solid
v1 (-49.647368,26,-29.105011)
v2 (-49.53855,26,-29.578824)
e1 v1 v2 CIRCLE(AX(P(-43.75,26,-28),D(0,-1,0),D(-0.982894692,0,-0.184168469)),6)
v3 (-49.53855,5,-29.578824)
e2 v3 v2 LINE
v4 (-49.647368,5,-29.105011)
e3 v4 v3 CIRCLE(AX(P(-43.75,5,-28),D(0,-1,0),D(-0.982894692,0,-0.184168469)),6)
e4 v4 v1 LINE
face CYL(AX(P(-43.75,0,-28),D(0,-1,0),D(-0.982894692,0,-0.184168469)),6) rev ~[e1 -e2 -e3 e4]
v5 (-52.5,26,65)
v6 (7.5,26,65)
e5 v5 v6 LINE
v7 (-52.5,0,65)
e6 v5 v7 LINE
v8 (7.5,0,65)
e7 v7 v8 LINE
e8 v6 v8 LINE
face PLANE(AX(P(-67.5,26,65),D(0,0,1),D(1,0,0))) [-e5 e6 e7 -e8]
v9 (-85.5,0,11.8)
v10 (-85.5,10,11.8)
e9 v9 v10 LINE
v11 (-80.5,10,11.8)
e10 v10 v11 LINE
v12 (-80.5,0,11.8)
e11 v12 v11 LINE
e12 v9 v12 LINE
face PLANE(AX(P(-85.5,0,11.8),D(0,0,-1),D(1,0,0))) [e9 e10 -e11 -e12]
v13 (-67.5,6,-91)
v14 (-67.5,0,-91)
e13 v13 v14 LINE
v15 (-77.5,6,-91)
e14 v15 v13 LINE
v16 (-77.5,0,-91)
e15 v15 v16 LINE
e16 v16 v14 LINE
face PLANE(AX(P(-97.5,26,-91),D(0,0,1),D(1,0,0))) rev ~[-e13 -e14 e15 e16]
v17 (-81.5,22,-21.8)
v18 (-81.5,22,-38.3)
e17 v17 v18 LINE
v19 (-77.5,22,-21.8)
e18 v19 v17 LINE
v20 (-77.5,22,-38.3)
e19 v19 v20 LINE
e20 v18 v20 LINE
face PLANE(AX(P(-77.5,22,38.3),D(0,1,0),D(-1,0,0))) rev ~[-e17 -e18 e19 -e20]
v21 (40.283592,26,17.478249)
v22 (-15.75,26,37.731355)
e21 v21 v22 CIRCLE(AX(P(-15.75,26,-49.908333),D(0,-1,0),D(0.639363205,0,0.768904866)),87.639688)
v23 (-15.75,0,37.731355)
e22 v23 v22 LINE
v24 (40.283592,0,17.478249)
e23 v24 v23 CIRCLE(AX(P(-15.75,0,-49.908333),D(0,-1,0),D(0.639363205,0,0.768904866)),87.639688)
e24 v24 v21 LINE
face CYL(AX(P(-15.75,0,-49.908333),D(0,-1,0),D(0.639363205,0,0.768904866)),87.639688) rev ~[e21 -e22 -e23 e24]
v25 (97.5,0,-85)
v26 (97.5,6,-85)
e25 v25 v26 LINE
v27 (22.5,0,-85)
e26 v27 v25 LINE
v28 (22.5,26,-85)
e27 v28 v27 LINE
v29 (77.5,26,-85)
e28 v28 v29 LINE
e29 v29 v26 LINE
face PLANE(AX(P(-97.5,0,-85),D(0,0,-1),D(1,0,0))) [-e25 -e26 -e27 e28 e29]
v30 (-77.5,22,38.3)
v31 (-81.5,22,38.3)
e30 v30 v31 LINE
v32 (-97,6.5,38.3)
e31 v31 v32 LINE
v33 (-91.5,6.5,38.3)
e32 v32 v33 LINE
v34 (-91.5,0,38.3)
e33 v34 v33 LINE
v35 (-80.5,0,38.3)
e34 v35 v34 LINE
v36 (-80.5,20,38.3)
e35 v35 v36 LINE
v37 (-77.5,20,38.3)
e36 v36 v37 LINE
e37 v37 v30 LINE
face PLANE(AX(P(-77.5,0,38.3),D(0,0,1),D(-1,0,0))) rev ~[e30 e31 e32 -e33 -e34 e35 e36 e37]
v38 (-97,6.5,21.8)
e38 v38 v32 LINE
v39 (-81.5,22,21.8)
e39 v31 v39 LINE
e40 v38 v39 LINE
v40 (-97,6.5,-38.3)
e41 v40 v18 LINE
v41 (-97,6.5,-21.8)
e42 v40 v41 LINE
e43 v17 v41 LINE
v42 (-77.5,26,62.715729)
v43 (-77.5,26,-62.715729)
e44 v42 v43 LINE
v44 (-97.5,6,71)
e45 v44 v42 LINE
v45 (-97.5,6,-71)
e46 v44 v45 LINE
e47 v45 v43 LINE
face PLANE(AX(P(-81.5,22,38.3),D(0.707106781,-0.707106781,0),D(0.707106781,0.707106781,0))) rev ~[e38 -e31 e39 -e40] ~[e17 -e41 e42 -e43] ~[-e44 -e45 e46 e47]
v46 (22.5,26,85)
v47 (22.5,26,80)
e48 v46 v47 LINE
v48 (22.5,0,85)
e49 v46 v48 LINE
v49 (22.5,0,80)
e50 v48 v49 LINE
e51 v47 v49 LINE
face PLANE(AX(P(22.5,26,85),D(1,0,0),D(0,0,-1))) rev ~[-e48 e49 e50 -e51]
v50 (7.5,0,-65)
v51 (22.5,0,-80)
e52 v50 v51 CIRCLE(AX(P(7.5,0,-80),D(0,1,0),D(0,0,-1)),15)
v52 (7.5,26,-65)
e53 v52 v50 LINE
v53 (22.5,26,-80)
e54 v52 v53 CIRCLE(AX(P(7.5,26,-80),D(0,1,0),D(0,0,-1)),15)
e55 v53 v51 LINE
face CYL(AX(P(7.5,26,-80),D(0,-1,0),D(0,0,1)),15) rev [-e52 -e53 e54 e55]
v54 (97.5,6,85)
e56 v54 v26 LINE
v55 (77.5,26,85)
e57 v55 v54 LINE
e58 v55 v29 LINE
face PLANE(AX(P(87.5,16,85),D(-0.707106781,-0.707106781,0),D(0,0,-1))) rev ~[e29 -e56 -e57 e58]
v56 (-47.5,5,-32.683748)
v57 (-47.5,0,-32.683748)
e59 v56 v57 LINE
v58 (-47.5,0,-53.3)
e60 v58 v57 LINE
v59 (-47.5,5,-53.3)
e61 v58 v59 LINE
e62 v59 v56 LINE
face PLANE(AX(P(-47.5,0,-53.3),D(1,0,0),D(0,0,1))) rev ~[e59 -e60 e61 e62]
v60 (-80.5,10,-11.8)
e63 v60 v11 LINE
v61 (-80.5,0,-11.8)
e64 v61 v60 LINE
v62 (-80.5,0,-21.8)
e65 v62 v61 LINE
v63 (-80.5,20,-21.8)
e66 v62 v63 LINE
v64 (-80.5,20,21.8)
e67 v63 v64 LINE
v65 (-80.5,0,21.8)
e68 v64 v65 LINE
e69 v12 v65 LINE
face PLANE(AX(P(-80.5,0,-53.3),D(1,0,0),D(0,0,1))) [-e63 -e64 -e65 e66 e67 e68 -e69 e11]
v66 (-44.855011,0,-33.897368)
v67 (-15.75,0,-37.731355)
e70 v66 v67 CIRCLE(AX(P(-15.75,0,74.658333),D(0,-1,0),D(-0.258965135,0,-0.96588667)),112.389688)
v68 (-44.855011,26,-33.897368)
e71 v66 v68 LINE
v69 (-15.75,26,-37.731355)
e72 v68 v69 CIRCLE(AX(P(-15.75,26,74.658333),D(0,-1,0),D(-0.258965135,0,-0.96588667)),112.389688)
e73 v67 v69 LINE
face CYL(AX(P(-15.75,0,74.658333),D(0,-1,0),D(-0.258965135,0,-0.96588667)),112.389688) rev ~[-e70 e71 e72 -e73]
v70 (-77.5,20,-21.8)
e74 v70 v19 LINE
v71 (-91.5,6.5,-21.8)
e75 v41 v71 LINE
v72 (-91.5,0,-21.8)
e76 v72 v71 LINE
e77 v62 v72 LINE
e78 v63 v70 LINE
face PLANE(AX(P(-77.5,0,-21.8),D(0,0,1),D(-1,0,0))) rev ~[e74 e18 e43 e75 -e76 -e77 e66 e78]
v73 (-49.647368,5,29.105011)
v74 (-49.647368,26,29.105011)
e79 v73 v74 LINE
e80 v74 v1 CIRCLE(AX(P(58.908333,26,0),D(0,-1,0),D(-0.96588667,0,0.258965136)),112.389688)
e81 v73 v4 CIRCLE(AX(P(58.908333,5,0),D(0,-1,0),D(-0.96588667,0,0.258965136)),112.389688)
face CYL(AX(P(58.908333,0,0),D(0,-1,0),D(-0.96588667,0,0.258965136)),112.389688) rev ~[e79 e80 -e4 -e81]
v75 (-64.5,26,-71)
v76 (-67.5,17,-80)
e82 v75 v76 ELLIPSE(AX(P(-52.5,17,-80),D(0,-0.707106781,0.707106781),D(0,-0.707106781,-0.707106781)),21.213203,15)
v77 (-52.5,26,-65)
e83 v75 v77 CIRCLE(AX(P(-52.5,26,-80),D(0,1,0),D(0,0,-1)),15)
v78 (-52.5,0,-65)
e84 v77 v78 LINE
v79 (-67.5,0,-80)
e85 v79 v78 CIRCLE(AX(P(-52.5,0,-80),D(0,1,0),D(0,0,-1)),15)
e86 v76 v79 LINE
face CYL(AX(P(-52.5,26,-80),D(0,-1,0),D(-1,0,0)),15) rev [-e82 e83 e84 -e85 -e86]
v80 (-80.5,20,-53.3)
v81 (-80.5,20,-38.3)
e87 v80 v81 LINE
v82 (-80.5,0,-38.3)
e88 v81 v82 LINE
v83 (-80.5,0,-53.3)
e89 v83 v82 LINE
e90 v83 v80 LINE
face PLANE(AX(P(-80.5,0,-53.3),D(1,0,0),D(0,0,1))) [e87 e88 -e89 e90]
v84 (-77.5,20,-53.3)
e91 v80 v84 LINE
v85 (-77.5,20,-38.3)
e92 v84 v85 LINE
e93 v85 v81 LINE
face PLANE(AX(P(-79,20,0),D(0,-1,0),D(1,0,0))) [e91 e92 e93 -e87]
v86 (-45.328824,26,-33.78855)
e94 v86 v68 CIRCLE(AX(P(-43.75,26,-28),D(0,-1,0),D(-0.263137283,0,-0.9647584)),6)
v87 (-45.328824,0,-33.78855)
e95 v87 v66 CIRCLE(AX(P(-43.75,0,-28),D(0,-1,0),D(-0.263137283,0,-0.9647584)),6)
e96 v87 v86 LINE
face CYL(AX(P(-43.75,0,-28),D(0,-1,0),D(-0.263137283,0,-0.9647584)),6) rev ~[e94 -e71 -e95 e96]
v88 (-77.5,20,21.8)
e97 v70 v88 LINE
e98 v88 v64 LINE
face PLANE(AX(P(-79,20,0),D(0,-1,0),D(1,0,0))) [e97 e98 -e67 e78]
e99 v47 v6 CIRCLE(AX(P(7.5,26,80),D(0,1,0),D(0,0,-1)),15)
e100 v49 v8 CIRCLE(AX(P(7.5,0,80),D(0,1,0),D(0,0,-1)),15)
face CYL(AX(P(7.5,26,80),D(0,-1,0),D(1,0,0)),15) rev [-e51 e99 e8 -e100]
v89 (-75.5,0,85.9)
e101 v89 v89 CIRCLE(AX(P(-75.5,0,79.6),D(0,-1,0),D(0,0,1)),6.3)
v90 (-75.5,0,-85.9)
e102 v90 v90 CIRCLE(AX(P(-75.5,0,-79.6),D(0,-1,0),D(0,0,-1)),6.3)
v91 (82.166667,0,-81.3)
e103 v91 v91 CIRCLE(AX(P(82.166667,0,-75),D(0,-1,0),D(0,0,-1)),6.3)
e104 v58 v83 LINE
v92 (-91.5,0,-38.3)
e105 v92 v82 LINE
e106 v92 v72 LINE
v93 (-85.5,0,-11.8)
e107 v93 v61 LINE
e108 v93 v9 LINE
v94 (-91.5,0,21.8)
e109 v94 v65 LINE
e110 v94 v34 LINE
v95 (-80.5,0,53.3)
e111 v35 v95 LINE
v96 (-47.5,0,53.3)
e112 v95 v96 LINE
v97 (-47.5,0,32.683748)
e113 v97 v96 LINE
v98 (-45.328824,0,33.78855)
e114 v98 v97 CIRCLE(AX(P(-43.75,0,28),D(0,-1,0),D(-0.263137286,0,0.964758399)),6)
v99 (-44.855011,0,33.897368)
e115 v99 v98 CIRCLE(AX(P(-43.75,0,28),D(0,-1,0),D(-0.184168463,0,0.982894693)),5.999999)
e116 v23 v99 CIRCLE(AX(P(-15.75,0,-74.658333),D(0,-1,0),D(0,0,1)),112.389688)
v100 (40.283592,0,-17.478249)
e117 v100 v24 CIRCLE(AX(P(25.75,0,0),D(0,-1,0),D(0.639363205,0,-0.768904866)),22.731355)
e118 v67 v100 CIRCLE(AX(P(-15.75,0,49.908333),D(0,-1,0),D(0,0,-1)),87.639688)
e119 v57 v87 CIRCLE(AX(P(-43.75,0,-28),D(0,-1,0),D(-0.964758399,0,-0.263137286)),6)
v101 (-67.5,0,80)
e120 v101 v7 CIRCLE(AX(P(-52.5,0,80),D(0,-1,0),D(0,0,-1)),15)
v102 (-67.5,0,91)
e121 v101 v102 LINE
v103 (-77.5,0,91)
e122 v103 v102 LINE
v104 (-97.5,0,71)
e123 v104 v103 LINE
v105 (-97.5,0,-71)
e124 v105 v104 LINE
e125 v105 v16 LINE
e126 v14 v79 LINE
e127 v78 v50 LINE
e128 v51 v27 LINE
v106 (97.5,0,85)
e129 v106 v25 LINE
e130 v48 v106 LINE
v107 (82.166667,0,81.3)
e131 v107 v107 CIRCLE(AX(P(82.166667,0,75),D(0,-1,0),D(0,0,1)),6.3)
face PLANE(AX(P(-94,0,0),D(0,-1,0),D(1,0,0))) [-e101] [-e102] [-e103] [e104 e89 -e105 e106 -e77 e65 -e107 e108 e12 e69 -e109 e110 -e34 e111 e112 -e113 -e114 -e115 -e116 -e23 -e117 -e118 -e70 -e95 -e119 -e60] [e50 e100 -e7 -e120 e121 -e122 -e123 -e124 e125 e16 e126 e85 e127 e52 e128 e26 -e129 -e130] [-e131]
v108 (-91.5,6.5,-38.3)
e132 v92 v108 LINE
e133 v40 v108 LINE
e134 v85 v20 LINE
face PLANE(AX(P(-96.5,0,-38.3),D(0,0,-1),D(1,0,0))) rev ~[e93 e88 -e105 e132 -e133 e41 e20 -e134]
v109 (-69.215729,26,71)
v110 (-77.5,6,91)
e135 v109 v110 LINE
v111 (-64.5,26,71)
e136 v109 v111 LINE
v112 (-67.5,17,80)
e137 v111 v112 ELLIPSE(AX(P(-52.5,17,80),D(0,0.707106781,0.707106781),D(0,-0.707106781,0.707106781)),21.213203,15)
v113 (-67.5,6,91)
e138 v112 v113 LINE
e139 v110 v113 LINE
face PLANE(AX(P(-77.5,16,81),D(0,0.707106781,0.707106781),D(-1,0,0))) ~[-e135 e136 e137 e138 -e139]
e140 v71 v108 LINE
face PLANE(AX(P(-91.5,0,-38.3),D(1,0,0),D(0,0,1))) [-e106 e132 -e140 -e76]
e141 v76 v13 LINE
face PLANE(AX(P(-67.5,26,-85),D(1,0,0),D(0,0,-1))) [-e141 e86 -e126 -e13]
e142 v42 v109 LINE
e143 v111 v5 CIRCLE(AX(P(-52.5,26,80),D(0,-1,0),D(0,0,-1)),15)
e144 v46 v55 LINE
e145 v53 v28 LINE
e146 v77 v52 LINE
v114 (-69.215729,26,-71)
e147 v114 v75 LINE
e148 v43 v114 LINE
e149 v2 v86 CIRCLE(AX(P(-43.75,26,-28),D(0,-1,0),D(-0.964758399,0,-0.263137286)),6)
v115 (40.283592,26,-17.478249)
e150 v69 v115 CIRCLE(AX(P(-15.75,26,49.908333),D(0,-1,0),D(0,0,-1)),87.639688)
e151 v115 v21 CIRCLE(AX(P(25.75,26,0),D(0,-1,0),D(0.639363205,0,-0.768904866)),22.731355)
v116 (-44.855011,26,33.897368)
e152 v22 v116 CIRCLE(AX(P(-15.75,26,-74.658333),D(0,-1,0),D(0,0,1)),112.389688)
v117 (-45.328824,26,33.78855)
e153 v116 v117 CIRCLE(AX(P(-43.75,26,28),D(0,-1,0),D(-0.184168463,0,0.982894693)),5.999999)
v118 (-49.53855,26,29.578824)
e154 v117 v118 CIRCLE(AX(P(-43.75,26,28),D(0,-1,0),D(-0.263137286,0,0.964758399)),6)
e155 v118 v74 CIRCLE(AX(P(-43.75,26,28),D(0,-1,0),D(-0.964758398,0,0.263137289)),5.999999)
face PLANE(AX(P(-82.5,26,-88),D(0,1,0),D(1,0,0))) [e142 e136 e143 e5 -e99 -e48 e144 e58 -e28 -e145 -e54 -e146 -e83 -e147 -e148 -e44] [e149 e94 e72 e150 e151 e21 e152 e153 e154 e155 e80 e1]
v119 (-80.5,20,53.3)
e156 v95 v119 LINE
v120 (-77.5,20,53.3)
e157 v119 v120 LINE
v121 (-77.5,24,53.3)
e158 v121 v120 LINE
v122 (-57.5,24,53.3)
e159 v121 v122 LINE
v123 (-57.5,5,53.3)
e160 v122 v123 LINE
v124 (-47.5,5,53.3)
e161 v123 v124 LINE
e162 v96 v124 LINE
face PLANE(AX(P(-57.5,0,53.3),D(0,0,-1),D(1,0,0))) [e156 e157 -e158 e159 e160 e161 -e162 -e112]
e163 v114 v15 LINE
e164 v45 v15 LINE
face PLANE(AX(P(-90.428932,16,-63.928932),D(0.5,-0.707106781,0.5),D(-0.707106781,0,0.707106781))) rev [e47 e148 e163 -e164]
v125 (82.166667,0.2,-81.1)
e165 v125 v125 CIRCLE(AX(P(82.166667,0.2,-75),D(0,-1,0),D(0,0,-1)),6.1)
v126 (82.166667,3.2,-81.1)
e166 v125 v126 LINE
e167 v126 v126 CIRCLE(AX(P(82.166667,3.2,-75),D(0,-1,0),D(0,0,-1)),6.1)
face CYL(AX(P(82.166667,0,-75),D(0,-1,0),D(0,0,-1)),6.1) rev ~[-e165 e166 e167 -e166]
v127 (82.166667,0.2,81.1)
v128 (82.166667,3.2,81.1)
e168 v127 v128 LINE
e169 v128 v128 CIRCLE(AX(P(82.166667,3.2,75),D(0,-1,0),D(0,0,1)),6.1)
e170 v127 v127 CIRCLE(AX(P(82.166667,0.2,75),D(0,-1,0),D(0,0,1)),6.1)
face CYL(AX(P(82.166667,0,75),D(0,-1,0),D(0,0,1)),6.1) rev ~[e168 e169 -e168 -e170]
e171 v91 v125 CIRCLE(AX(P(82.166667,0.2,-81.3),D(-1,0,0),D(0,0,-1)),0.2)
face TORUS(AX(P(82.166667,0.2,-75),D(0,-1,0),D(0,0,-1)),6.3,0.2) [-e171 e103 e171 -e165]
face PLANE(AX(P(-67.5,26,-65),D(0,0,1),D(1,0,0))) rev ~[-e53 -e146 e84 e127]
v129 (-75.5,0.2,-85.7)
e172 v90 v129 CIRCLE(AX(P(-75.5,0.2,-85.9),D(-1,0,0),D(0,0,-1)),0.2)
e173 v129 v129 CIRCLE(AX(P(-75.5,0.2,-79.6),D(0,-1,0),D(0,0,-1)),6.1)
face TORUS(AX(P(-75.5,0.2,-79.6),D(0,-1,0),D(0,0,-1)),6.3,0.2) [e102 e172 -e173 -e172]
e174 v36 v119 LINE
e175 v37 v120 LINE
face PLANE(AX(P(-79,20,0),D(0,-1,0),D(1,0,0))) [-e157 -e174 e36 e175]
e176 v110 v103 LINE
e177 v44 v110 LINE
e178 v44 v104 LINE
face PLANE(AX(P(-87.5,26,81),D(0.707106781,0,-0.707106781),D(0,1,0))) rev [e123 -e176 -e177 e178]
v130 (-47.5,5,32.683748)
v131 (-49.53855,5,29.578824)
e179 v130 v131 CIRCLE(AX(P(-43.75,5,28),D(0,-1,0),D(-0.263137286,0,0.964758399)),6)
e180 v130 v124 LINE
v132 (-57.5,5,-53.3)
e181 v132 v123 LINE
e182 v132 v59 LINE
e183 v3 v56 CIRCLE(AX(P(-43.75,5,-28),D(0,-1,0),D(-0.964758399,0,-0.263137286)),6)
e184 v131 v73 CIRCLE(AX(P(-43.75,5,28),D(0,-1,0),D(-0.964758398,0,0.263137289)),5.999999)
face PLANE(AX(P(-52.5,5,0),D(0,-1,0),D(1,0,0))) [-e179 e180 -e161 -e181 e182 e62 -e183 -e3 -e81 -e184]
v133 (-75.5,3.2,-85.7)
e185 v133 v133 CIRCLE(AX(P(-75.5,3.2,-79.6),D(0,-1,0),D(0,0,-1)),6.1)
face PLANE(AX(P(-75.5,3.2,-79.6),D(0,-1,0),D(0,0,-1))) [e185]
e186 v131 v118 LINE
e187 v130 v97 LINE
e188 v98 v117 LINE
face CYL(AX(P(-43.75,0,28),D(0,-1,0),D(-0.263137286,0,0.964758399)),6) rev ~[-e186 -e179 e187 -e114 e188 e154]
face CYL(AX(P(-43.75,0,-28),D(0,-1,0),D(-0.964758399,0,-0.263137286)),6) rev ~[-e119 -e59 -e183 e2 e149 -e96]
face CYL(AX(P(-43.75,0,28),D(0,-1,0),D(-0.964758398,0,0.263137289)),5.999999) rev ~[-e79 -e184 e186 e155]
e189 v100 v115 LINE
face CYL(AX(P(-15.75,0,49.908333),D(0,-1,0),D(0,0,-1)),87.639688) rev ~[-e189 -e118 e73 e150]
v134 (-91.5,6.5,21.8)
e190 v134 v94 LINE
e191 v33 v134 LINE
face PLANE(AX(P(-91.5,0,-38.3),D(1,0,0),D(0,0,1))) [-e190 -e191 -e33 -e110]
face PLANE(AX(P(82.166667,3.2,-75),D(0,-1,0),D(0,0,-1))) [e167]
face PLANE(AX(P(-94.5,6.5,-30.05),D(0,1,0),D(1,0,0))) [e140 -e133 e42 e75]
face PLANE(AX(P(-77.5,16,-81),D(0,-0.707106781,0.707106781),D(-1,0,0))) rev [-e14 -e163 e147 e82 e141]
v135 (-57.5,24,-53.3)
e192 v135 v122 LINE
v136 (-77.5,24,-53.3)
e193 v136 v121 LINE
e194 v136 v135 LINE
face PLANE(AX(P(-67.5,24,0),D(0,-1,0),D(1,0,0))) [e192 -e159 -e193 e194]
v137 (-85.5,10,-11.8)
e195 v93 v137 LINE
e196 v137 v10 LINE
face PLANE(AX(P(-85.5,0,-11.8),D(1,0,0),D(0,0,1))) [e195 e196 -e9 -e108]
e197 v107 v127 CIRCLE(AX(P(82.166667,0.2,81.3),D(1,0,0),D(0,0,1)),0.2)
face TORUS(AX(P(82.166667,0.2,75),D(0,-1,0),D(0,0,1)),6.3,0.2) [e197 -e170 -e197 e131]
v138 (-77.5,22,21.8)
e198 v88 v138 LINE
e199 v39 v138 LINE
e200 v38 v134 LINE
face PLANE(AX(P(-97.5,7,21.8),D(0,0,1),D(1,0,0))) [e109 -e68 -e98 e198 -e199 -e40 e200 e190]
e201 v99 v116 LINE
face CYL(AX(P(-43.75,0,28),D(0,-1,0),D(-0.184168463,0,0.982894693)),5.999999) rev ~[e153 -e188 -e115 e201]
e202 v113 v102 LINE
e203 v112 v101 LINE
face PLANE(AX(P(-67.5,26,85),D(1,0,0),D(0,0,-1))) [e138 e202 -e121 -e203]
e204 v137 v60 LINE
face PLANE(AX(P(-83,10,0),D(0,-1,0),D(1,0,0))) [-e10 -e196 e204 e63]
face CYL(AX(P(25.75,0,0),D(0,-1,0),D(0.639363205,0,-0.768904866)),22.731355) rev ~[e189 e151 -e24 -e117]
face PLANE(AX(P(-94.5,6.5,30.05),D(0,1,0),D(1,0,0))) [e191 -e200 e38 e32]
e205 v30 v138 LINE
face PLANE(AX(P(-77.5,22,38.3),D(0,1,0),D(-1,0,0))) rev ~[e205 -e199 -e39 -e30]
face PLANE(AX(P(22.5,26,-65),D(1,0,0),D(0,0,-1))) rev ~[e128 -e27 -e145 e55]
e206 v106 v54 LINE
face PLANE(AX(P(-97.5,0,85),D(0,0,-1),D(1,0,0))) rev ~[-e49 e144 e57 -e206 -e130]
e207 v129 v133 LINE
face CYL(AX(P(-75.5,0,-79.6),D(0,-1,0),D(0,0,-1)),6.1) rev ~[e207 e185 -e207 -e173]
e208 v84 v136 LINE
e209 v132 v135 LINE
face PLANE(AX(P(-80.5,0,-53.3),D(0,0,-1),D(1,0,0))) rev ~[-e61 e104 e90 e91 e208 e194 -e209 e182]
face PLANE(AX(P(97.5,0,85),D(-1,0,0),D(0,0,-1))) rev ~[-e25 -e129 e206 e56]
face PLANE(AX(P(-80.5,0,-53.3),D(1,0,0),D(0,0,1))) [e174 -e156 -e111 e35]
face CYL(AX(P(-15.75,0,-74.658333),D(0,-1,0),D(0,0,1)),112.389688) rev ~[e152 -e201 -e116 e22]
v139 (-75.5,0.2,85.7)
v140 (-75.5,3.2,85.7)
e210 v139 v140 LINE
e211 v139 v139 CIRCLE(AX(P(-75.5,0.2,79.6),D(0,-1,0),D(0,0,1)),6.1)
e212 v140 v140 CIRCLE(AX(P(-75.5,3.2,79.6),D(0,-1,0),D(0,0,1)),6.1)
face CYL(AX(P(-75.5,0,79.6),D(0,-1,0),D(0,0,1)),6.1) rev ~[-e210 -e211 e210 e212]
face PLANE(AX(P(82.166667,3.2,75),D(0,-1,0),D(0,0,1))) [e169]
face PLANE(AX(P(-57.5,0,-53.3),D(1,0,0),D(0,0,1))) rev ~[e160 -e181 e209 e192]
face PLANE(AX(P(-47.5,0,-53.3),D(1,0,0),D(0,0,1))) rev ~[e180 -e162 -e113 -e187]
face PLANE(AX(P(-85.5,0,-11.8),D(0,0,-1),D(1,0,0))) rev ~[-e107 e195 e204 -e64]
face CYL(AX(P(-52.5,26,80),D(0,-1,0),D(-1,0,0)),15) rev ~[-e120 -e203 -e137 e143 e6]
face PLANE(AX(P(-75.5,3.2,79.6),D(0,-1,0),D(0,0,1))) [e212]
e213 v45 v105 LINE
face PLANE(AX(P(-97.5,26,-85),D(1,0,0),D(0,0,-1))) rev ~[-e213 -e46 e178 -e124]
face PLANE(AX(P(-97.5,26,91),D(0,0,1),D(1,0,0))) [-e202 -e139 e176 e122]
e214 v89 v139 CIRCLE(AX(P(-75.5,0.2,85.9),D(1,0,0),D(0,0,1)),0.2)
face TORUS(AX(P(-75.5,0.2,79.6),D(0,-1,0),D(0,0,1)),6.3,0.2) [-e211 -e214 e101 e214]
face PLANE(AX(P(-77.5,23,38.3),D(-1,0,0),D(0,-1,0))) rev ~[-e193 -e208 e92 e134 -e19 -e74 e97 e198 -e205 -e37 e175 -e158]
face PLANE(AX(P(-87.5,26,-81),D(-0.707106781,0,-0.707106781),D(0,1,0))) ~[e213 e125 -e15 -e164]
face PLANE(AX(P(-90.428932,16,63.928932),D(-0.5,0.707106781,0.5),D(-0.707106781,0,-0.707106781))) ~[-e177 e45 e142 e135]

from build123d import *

# Parameters (mm, degrees)
SKETCH1_W           = 195
SKETCH1_H           = 170
BOSS_EXTRUDE1_DEPTH = 26
SKETCH2_W           = 90
SKETCH2_H           = 20
CUT_EXTRUDE1_DEPTH  = 132.936537775
FILLET1_R           = 15
SKETCH3_W           = 30
SKETCH3_H           = 6
BOSS_EXTRUDE2_DEPTH = 26
CHAMFER1_SIZE       = 20
CHAMFER2_SIZE       = 20
CHAMFER3_SIZE       = 20
SKETCH6_R           = 6.1
CUT_EXTRUDE4_DEPTH  = 3.2
FILLET2_R           = 0.2
CUT_EXTRUDE3_DEPTH  = 23
CUT_EXTRUDE5_DEPTH  = 136.879542242
SKETCH8_W           = 5
SKETCH8_H           = 76.6
BOSS_EXTRUDE3_DEPTH = 7
SKETCH9_W           = 10
SKETCH9_H           = 106.6
CUT_EXTRUDE6_DEPTH  = 5
SKETCH10_W          = 3
SKETCH10_H          = 106.6
CUT_EXTRUDE7_DEPTH  = 20
BOSS_EXTRUDE8_REACH = 166.014
SKETCH14_W          = 6
SKETCH14_H          = 16.5
CUT_EXTRUDE9_DEPTH  = 0.5
SKETCH15_W          = 5
SKETCH15_H          = 23.6
CUT_EXTRUDE10_DEPTH = 10
SKETCH16_W          = 20
SKETCH16_H          = 106.6
CUT_EXTRUDE11_DEPTH = 1


with BuildPart() as part:
    # Sketch1 → Boss-Extrude1 (new body)
    with BuildSketch(Plane(origin=(0, 0, 0), x_dir=(1, 0, 0), z_dir=(0, 1, 0))):
        Rectangle(SKETCH1_W, SKETCH1_H)
    extrude(amount=BOSS_EXTRUDE1_DEPTH)

    # Sketch2 → Cut-Extrude1 (cut, through all)
    with BuildSketch(Plane(origin=(0, 26, 0), x_dir=(1, 0, 0), z_dir=(0, 1, 0))):
        with Locations((-22.5, -75)):
            Rectangle(SKETCH2_W, SKETCH2_H)
        with Locations((-22.5, 75)):
            Rectangle(SKETCH2_W, SKETCH2_H)
    extrude(amount=-CUT_EXTRUDE1_DEPTH, mode=Mode.SUBTRACT)

    # Fillet1
    fillet1_edges = [part.edges().sort_by_distance(p)[0] for p in [
        (-67.5, 13, 65),
        (22.5, 13, 65),
        (-67.5, 13, -65),
        (22.5, 13, -65),
    ]]
    fillet(fillet1_edges, radius=FILLET1_R)

    # Sketch3 → Boss-Extrude2 (add)
    with BuildSketch(Plane(origin=(0, 26, 0), x_dir=(1, 0, 0), z_dir=(0, 1, 0))):
        with Locations((-82.5, 88)):
            Rectangle(SKETCH3_W, SKETCH3_H)
        with Locations((-82.5, -88)):
            Rectangle(SKETCH3_W, SKETCH3_H)
    extrude(amount=-BOSS_EXTRUDE2_DEPTH)

    # Chamfer1
    chamfer1_edges = [part.edges().sort_by_distance(p)[0] for p in [
        (-97.5, 13, -91),
        (-97.5, 13, 91),
    ]]
    chamfer(chamfer1_edges, length=CHAMFER1_SIZE)

    # Chamfer2
    chamfer2_edges = [part.edges().sort_by_distance(p)[0] for p in [
        (-72.5, 26, 91),
        (-72.5, 26, -91),
        (-97.5, 26, 0),
        (-87.5, 26, 81),
        (-87.5, 26, -81),
    ]]
    chamfer(chamfer2_edges, length=CHAMFER2_SIZE)

    # Chamfer3
    chamfer3_edges = [part.edges().sort_by_distance(p)[0] for p in [
        (97.5, 26, 0),
    ]]
    chamfer(chamfer3_edges, length=CHAMFER3_SIZE)

    # Sketch6 → Cut-Extrude4 (cut)
    with BuildSketch(Plane.XZ):
        with Locations(Location((82.166666667, -75, 0), (0, 0, 270))):
            Circle(SKETCH6_R)
        with Locations(Location((82.166666667, 75, 0), (0, 0, 90))):
            Circle(SKETCH6_R)
        with Locations(Location((-75.5, -79.6, 0), (0, 0, 270))):
            Circle(SKETCH6_R)
        with Locations(Location((-75.5, 79.6, 0), (0, 0, 90))):
            Circle(SKETCH6_R)
    extrude(amount=-CUT_EXTRUDE4_DEPTH, mode=Mode.SUBTRACT)

    # Fillet2
    fillet2_edges = [part.edges().sort_by_distance(p)[0] for p in [
        (82.166666667, 0, 68.9),
        (-75.5, 0, -73.5),
        (-75.5, 0, 73.5),
        (82.166666667, 0, -68.9),
    ]]
    fillet(fillet2_edges, radius=FILLET2_R)

    # Sketch5 → Cut-Extrude3 (cut)
    with BuildSketch(Plane.XZ):
        Polygon((-93.5, 38.3), (-77.5, 38.3), (-77.5, 53.3), (-57.5, 53.3), (-57.5, 38.3), (-57.5, -38.3), (-57.5, -53.3), (-77.5, -53.3), (-77.5, -38.3), (-93.5, -38.3), (-96.5, -38.3), (-96.5, -21.8), (-93.5, -21.8), (-77.5, -21.8), (-77.5, 21.8), (-93.5, 21.8), (-96.5, 21.8), (-96.5, 38.3), align=None)
    extrude(amount=-CUT_EXTRUDE3_DEPTH, mode=Mode.SUBTRACT)

    # Sketch7 → Cut-Extrude5 (cut, through all)
    with BuildSketch(Plane.XZ):
        with BuildLine():
            ThreePointArc((-45.328823714, -33.788550396), (-45.093019824, -33.847760063), (-44.855010797, -33.897368154))
            ThreePointArc((-44.855010797, -33.897368154), (-30.428224571, -36.76873565), (-15.749999998, -37.731354711))
            ThreePointArc((-15.749999998, -37.731354711), (14.040735516, -32.512701591), (40.283591791, -17.478249245))
            ThreePointArc((40.283591791, -17.478249245), (48.481354711, 0), (40.283591791, 17.478249245))
            ThreePointArc((40.283591791, 17.478249245), (14.040735515, 32.512701591), (-15.75, 37.731354711))
            ThreePointArc((-15.75, 37.731354711), (-30.428224573, 36.76873565), (-44.855010797, 33.897368153))
            ThreePointArc((-44.855010797, 33.897368153), (-45.093019823, 33.847760063), (-45.328823714, 33.788550395))
            ThreePointArc((-45.328823714, 33.788550395), (-47.992640687, 32.242640687), (-49.538550395, 29.578823714))
            ThreePointArc((-49.538550395, 29.578823714), (-49.597760063, 29.343019823), (-49.647368153, 29.105010797))
            ThreePointArc((-49.647368153, 29.105010797), (-53.481354711, 0), (-49.647368154, -29.105010797))
            ThreePointArc((-49.647368154, -29.105010797), (-49.597760063, -29.343019824), (-49.538550396, -29.578823714))
            ThreePointArc((-49.538550396, -29.578823714), (-47.992640687, -32.242640687), (-45.328823714, -33.788550396))
        make_face()
    extrude(amount=-CUT_EXTRUDE5_DEPTH, mode=Mode.SUBTRACT)

    # Sketch8 → Boss-Extrude3 (add)
    with BuildSketch(Plane.XZ):
        with Locations((-94, 0)):
            Rectangle(SKETCH8_W, SKETCH8_H)
    extrude(amount=-BOSS_EXTRUDE3_DEPTH)

    # Sketch9 → Cut-Extrude6 (cut)
    with BuildSketch(Plane.XZ):
        with Locations((-52.5, 0)):
            Rectangle(SKETCH9_W, SKETCH9_H)
    extrude(amount=-CUT_EXTRUDE6_DEPTH, mode=Mode.SUBTRACT)

    # Sketch10 → Cut-Extrude7 (cut)
    with BuildSketch(Plane.XZ):
        with Locations((-79, 0)):
            Rectangle(SKETCH10_W, SKETCH10_H)
    extrude(amount=-CUT_EXTRUDE7_DEPTH, mode=Mode.SUBTRACT)

    # Boss-Extrude8: up to this face of the body (flat: up to its plane)
    boss_extrude8_end = Plane(part.part.faces().sort_by_distance((-85.605919003, 9.540498442, -38.3))[0])
    # Sketch13 → Boss-Extrude8 (add, up to the picked face)
    with BuildSketch(Plane(origin=(0, 0, 38.3), x_dir=(-1, 0, 0), z_dir=(0, 0, -1)), mode=Mode.PRIVATE) as boss_extrude8_sk1:
        Polygon((80.5, 23), (77.5, 23), (77.5, 22), (81.5, 22), align=None)
    boss_extrude8_tool1 = split(extrude(boss_extrude8_sk1.sketch, amount=BOSS_EXTRUDE8_REACH, mode=Mode.PRIVATE), bisect_by=boss_extrude8_end, keep=Keep.BOTH, mode=Mode.PRIVATE)
    add(boss_extrude8_tool1.solids().sort_by(Axis((-79.261905, 22.47619, 38.3), (0, 0, -1)))[0])

    # Sketch14 → Cut-Extrude9 (cut)
    with BuildSketch(Plane(origin=(0, 7, 0), x_dir=(1, 0, 0), z_dir=(0, 1, 0))):
        with Locations((-94.5, 30.05)):
            Rectangle(SKETCH14_W, SKETCH14_H)
        with Locations((-94.5, -30.05)):
            Rectangle(SKETCH14_W, SKETCH14_H)
    extrude(amount=-CUT_EXTRUDE9_DEPTH, mode=Mode.SUBTRACT)

    # Sketch15 → Cut-Extrude10 (cut)
    with BuildSketch(Plane.XZ):
        with Locations((-83, 0)):
            Rectangle(SKETCH15_W, SKETCH15_H)
    extrude(amount=-CUT_EXTRUDE10_DEPTH, mode=Mode.SUBTRACT)

    # Sketch16 → Cut-Extrude11 (cut)
    with BuildSketch(Plane.XZ.offset(-23)):
        with Locations((-67.5, 0)):
            Rectangle(SKETCH16_W, SKETCH16_H)
    extrude(amount=-CUT_EXTRUDE11_DEPTH, mode=Mode.SUBTRACT)


solid = part.part
